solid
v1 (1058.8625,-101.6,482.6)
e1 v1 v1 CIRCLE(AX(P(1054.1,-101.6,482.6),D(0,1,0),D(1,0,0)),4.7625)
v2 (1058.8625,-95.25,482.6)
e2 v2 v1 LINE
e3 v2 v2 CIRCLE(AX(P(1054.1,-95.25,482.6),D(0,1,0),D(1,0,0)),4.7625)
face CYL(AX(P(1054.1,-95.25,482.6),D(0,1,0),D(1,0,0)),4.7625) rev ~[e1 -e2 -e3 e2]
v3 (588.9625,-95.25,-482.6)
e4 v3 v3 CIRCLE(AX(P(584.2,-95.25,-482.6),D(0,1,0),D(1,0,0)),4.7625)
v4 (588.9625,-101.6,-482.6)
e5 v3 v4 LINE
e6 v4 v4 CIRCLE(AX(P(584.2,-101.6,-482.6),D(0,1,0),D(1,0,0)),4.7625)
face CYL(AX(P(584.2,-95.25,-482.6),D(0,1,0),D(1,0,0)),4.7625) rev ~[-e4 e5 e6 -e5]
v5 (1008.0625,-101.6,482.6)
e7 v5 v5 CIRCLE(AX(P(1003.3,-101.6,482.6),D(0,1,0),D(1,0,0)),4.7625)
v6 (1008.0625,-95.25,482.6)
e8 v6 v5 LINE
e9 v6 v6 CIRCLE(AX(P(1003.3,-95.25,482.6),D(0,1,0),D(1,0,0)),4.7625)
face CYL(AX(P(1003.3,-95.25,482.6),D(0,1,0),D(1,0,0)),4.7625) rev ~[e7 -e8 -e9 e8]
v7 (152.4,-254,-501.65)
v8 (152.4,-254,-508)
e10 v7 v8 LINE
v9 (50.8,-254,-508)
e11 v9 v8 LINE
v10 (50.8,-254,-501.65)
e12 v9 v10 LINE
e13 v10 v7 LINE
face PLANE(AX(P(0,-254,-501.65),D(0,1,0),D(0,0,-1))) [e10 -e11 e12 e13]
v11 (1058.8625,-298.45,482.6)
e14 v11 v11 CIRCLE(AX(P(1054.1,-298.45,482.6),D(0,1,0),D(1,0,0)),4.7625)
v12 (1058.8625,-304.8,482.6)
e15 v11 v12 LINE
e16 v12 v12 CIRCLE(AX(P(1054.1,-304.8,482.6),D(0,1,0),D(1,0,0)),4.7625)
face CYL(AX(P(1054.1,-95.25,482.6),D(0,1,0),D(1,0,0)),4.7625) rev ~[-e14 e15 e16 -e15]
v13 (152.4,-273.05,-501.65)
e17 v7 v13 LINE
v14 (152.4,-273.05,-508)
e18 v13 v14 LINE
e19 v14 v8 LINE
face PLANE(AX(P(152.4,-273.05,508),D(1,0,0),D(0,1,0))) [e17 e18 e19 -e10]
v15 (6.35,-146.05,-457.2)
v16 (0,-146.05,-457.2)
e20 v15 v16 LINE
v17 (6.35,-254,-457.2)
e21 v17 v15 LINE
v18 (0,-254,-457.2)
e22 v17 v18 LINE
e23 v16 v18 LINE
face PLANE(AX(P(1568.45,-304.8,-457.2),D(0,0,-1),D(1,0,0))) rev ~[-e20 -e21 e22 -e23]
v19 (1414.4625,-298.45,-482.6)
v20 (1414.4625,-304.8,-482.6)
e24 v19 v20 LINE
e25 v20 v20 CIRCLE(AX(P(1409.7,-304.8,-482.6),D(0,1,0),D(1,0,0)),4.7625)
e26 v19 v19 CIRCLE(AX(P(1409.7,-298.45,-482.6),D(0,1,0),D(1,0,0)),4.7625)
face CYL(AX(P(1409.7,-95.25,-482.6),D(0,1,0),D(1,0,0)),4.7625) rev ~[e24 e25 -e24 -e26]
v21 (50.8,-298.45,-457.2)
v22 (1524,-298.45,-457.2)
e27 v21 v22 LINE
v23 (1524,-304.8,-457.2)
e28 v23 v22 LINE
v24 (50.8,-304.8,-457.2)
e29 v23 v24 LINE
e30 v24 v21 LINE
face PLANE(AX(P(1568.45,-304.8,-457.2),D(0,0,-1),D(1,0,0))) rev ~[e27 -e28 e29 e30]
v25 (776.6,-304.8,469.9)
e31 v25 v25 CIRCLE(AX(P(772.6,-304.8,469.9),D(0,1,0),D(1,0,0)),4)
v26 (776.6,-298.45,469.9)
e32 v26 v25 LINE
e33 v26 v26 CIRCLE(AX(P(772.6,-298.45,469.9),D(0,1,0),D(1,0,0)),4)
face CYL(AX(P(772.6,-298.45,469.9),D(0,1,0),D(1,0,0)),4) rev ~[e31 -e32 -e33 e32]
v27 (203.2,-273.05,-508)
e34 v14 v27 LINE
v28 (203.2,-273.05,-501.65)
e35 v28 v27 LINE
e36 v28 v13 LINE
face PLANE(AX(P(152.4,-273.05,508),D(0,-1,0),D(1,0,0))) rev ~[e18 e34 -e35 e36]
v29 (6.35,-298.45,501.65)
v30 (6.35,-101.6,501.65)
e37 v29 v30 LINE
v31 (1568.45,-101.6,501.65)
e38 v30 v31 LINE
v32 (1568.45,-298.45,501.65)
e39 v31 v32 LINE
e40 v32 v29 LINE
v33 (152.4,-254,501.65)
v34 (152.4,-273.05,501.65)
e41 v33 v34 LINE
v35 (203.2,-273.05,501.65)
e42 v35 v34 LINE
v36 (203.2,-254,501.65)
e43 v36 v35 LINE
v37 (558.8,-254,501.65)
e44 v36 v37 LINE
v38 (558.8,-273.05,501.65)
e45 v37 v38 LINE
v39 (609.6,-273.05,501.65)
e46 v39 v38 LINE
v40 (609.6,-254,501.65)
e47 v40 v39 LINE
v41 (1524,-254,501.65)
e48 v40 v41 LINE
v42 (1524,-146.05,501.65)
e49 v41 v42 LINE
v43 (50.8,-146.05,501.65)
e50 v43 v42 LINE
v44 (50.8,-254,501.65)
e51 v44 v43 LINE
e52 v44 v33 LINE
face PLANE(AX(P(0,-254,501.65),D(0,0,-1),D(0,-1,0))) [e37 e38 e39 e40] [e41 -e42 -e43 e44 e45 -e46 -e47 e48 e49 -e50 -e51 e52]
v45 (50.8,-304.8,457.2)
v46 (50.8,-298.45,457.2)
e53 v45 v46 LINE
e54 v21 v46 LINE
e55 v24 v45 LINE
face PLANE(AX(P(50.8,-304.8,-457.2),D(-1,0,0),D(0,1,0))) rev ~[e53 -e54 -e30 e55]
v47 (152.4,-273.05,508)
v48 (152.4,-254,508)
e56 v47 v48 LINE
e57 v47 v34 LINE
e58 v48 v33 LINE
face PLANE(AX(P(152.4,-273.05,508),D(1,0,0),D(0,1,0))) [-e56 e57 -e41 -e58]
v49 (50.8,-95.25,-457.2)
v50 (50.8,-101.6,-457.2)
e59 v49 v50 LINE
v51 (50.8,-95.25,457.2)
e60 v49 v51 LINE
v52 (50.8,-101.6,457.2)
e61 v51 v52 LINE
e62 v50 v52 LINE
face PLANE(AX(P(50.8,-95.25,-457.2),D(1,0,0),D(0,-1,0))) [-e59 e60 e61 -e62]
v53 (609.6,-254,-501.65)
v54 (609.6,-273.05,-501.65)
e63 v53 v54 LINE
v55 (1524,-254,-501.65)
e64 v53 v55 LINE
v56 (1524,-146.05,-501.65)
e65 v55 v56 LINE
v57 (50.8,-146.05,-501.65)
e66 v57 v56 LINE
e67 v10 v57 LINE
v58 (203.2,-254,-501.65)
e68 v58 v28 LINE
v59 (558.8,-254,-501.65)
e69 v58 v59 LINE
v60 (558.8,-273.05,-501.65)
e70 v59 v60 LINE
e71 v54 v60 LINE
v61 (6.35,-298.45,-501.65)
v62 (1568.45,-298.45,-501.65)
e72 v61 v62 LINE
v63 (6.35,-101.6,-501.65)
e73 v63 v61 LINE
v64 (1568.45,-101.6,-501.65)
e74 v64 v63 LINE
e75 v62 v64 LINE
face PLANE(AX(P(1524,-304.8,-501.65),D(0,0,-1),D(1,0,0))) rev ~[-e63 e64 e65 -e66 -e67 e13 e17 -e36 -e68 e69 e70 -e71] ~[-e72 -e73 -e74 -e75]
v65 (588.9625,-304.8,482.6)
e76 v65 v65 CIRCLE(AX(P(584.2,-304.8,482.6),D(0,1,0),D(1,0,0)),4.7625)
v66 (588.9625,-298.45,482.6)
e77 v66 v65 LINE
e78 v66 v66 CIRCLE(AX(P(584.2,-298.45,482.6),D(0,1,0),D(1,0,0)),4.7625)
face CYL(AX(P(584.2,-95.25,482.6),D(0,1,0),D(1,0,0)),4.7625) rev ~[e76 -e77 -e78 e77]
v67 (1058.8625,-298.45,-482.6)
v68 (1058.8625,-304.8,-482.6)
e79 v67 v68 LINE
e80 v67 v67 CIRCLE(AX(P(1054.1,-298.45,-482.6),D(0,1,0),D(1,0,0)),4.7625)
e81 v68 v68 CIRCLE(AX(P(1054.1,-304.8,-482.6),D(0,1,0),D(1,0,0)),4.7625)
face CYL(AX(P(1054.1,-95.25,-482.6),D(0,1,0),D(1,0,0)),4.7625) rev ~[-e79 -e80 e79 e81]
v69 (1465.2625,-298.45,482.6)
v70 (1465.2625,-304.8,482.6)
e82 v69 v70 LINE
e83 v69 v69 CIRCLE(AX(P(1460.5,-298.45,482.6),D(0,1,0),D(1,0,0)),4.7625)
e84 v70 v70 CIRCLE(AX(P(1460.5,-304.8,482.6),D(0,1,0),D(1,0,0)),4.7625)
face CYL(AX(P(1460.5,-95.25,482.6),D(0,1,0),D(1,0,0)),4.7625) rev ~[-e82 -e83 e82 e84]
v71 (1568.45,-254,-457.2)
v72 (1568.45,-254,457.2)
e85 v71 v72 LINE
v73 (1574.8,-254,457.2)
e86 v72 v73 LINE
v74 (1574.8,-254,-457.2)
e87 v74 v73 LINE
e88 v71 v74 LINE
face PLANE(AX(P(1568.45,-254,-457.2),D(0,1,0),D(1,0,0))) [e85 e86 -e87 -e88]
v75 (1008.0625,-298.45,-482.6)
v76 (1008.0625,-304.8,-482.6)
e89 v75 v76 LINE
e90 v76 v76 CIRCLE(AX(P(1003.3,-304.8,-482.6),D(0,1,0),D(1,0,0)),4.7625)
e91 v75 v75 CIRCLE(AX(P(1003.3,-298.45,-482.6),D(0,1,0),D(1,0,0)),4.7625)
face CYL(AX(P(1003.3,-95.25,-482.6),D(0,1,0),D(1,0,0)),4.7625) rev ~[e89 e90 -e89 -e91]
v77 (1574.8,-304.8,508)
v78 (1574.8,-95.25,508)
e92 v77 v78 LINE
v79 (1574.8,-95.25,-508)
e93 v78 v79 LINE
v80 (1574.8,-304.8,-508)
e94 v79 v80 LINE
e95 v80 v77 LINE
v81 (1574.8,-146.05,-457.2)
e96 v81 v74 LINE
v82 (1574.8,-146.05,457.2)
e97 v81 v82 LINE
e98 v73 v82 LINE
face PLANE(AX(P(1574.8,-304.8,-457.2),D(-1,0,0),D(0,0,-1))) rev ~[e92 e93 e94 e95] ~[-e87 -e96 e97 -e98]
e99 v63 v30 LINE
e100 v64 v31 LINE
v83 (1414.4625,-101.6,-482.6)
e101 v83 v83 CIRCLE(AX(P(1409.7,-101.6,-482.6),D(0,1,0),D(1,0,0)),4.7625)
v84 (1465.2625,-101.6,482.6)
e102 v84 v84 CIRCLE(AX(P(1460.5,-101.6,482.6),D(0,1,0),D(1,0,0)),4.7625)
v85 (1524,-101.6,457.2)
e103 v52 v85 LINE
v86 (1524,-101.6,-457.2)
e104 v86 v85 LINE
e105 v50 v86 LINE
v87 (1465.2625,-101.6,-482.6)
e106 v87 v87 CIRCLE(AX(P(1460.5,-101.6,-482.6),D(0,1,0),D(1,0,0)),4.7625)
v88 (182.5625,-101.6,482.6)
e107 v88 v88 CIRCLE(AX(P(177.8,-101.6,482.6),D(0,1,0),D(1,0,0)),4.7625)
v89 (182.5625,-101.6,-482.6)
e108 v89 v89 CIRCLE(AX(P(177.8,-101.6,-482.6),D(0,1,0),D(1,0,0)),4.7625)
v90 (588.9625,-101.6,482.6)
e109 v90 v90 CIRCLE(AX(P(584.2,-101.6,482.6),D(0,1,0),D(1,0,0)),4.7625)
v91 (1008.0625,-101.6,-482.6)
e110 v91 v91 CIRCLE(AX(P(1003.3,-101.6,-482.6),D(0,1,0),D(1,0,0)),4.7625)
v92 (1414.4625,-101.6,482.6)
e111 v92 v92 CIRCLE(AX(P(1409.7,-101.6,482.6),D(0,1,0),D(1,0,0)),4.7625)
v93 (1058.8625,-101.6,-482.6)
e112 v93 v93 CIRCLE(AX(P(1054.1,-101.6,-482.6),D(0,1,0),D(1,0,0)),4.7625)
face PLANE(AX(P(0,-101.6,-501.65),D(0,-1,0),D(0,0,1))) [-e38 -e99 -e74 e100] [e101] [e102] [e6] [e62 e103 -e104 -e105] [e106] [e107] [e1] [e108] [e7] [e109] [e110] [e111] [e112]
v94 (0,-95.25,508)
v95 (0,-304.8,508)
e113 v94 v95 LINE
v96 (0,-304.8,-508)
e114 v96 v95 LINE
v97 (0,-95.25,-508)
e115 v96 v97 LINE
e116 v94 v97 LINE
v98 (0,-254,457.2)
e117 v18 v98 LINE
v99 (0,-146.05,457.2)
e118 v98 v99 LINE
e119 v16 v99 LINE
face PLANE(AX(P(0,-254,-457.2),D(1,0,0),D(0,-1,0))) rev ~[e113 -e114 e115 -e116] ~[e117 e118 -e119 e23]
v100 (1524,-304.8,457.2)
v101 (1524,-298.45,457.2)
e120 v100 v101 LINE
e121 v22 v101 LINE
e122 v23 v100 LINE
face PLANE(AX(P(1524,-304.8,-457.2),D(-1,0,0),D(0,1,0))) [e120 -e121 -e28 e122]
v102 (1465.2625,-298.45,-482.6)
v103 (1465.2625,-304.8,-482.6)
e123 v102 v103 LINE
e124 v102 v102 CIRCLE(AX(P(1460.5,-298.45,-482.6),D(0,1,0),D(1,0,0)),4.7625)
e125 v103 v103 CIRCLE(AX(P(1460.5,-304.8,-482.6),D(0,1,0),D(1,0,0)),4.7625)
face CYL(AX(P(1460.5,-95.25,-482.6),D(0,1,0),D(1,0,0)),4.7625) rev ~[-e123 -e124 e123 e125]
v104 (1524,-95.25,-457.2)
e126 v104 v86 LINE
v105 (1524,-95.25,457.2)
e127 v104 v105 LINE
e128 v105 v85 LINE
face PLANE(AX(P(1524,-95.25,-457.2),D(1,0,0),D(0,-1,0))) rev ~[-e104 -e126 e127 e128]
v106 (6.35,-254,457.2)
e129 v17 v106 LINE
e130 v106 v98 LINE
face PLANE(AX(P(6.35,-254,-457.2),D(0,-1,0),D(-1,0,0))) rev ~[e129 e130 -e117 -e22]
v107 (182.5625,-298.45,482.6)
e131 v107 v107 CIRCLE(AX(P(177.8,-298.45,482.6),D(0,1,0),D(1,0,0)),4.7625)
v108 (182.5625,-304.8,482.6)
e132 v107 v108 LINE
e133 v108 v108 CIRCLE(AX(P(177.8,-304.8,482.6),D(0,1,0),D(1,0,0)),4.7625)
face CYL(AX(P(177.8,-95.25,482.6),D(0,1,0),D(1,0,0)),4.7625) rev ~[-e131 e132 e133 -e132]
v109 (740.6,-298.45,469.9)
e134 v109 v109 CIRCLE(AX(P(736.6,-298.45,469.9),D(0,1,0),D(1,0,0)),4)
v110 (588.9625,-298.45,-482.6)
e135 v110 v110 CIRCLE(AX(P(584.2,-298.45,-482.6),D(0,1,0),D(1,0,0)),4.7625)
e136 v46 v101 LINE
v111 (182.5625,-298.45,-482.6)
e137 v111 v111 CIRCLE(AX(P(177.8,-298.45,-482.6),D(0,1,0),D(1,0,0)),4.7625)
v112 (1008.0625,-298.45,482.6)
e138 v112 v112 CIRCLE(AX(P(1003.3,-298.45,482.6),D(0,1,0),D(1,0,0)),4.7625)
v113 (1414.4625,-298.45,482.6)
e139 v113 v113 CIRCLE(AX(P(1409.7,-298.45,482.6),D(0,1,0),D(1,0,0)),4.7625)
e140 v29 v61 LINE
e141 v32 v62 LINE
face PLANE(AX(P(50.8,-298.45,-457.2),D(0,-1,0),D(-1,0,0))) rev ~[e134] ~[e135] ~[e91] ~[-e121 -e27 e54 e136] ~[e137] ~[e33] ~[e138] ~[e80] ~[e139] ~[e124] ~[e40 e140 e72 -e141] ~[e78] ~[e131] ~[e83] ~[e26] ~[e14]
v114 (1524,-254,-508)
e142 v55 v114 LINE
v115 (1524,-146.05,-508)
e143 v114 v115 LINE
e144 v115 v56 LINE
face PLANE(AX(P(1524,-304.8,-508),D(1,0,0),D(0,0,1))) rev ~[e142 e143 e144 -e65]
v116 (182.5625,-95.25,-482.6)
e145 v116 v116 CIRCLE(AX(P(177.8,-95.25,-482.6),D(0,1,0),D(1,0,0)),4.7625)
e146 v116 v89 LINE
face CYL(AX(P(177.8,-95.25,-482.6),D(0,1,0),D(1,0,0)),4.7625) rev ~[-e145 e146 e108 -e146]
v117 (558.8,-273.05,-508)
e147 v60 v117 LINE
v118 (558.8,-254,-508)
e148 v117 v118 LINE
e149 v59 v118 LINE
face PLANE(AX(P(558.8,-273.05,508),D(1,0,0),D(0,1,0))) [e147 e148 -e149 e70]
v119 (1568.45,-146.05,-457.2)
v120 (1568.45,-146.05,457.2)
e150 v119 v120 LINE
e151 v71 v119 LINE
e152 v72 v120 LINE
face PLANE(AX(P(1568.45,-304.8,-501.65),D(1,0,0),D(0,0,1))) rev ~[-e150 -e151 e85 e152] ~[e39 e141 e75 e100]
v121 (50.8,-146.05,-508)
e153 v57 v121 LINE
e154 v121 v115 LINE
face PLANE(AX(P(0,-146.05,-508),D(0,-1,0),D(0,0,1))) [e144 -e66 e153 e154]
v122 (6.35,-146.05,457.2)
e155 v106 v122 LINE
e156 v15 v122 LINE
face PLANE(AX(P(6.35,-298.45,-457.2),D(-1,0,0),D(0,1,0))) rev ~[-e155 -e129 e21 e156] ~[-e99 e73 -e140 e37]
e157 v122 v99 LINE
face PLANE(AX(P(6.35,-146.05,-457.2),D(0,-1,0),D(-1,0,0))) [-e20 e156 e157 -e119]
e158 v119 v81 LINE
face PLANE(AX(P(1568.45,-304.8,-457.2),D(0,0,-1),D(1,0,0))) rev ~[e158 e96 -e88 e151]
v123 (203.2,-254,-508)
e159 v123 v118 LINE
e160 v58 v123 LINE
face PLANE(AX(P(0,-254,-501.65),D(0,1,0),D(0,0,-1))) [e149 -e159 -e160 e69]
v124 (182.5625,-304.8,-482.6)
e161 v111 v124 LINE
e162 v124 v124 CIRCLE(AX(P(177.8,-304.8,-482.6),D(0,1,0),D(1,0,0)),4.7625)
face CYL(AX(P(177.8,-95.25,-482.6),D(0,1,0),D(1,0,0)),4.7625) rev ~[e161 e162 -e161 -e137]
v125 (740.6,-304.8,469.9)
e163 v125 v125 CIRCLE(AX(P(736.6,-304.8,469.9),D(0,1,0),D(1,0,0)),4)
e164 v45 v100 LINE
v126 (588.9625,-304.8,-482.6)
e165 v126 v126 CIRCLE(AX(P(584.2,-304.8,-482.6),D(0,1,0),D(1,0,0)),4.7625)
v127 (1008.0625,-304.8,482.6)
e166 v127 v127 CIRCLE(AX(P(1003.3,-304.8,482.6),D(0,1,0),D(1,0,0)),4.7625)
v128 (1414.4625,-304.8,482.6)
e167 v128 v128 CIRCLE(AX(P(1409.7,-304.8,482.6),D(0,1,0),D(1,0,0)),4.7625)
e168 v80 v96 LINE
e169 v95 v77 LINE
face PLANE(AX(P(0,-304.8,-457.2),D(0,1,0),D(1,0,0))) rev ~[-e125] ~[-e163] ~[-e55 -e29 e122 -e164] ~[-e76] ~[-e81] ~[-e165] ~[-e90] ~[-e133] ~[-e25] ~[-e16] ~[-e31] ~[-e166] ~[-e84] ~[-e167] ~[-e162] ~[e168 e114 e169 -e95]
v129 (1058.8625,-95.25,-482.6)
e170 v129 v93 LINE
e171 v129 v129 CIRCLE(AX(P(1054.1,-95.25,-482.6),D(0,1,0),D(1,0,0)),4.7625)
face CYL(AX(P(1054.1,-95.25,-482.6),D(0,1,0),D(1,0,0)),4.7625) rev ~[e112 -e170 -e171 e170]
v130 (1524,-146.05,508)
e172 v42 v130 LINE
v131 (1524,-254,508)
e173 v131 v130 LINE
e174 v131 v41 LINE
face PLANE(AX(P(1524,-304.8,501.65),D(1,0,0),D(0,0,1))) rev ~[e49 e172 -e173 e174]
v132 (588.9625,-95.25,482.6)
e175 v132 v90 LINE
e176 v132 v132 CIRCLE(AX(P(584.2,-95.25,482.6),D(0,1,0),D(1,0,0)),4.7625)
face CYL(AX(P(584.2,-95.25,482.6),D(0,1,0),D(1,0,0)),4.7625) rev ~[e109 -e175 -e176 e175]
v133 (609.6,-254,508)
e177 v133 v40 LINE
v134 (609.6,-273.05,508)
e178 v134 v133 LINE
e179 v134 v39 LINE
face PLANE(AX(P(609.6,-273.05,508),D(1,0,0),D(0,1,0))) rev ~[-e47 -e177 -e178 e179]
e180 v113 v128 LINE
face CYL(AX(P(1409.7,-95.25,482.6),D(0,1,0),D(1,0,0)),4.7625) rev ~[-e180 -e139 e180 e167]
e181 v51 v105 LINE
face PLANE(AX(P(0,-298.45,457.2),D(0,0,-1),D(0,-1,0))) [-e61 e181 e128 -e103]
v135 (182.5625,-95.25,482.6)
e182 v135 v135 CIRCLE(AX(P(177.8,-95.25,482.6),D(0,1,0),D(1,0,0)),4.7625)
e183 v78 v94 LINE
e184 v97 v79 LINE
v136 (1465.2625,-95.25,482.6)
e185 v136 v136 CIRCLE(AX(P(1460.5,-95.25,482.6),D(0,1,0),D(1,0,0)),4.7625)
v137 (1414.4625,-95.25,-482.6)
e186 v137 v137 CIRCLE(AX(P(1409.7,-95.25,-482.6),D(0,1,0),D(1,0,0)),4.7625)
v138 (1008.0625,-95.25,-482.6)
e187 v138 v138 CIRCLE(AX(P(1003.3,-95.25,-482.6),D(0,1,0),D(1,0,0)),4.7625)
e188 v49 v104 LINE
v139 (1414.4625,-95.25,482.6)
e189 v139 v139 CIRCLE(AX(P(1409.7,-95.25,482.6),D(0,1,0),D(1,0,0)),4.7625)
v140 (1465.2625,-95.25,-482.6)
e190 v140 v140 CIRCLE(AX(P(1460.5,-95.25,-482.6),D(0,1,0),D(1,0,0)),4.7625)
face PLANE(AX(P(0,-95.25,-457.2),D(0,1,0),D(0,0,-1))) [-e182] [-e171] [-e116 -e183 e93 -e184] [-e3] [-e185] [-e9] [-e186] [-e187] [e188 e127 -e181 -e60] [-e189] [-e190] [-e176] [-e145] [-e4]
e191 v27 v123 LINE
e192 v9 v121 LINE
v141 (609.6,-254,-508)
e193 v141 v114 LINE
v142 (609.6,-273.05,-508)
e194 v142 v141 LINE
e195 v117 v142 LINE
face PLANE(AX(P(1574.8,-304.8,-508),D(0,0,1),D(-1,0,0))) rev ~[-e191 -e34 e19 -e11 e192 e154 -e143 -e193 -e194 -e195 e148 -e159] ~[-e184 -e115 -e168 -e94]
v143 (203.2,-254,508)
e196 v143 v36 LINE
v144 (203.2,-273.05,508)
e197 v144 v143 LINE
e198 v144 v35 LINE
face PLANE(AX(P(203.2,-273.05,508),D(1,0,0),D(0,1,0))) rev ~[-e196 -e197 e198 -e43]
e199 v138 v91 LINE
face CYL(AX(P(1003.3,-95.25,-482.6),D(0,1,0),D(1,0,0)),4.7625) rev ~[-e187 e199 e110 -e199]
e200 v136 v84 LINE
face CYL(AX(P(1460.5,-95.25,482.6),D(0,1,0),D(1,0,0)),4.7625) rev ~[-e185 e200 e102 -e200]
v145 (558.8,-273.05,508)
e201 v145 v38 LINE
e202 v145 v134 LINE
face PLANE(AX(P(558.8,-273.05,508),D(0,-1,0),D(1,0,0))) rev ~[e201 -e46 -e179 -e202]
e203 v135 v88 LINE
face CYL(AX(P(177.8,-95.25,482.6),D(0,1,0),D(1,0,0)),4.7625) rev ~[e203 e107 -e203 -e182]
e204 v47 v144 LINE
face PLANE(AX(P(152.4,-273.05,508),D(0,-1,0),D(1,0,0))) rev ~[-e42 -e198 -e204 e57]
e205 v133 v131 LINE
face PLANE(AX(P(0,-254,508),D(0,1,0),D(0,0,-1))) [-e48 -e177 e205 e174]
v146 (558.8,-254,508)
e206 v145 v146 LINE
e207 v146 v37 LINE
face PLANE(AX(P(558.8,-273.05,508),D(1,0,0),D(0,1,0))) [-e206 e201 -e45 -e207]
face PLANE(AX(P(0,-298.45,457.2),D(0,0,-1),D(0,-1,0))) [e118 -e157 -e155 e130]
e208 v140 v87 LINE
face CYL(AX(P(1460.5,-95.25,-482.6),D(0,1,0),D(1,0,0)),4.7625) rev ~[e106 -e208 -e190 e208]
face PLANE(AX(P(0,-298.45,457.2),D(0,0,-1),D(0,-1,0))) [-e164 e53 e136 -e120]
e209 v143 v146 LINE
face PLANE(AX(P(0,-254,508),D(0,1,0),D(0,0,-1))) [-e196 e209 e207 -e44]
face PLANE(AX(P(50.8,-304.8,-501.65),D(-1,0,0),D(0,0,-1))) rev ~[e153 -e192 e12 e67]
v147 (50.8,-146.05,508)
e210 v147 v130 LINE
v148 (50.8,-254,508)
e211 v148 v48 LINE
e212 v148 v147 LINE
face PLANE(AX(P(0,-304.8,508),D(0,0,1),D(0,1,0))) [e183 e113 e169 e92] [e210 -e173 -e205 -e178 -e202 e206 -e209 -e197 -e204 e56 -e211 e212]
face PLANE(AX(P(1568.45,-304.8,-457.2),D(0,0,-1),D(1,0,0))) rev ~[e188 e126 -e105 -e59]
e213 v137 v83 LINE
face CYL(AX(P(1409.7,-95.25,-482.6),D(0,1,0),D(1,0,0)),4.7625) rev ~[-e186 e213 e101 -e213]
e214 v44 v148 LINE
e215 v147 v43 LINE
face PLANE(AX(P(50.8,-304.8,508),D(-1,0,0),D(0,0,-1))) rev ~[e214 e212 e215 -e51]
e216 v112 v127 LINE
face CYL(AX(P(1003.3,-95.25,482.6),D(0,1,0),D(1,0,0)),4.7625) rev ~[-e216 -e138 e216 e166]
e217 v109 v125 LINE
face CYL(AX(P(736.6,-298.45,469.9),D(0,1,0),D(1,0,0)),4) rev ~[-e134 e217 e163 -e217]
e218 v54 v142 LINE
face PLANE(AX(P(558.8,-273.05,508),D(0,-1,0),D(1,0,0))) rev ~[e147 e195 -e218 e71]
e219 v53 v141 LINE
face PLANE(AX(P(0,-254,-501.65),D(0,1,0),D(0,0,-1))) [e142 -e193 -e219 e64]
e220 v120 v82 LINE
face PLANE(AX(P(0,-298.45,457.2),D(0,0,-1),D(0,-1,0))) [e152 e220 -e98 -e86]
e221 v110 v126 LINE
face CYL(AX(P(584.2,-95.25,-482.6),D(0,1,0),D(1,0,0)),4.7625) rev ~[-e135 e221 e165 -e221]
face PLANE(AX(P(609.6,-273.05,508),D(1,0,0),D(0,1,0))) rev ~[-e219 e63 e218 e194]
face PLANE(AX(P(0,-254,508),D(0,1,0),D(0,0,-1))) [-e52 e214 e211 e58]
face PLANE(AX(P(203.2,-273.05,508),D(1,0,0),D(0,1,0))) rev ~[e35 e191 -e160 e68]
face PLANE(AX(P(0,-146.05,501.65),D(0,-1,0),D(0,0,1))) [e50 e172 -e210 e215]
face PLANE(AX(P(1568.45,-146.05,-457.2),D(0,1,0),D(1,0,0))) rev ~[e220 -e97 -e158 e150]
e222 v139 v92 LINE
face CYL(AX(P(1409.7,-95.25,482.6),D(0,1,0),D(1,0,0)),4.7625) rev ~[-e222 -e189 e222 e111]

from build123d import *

# Parameters (mm, degrees)
X_ANGLE_LENTH_DEPTH             = 1574.8
X_ANGLE_LENTH_2_DEPTH           = 1574.8
X_ANGLE_LENTH_3_DEPTH           = 1574.8
X_ANGLE_LENTH_4_DEPTH           = 1574.8
Y_ANGLE_LENTH_DEPTH             = 209.55
Z_START                         = -457.2
Z_ANGLE_LENTH_DEPTH             = 914.4
SKETCH16_R                      = 4.7625
WHEEL_MOUNT_LOC_HOLES_DEPTH     = 210.55
SKETCH17_W                      = 50.8
SKETCH17_H                      = 38.1
FRONT_CONTROL_ARM_CUTOUTS_DEPTH = 1017
SKETCH19_R                      = 4
CUT_EXTRUDE1_DEPTH              = 7.35


with BuildPart() as part:
    # Sketch5 → X Angle Lenth (new body)
    with BuildSketch(Plane(origin=(0, 0, 0), x_dir=(0, 0, -1), z_dir=(1, 0, 0))):
        Polygon((-508, -304.8), (-508, -254), (-501.65, -254), (-501.65, -298.45), (-457.2, -298.45), (-457.2, -304.8), align=None)
    extrude(amount=X_ANGLE_LENTH_DEPTH)



with BuildPart() as body_2:
    # Sketch5 → X Angle Lenth 2 (new body)
    with BuildSketch(Plane(origin=(0, 0, 0), x_dir=(0, 0, -1), z_dir=(1, 0, 0))):
        Polygon((501.65, -254), (508, -254), (508, -304.8), (457.2, -304.8), (457.2, -298.45), (501.65, -298.45), align=None)
    extrude(amount=X_ANGLE_LENTH_2_DEPTH)


with BuildPart() as body_3:
    # Sketch5 → X Angle Lenth 3 (new body)
    with BuildSketch(Plane(origin=(0, 0, 0), x_dir=(0, 0, -1), z_dir=(1, 0, 0))):
        Polygon((508, -95.25), (508, -146.05), (501.65, -146.05), (501.65, -101.6), (457.2, -101.6), (457.2, -95.25), align=None)
    extrude(amount=X_ANGLE_LENTH_3_DEPTH)


with BuildPart() as body_4:
    # Sketch5 → X Angle Lenth 4 (new body)
    with BuildSketch(Plane(origin=(0, 0, 0), x_dir=(0, 0, -1), z_dir=(1, 0, 0))):
        Polygon((-501.65, -146.05), (-508, -146.05), (-508, -95.25), (-457.2, -95.25), (-457.2, -101.6), (-501.65, -101.6), align=None)
    extrude(amount=X_ANGLE_LENTH_4_DEPTH)


with BuildPart() as part_1:
    add(part.part)

    add(body_2.part)  # Y Angle Lenth merges body 2

    add(body_3.part)  # Y Angle Lenth merges body 3

    add(body_4.part)  # Y Angle Lenth merges body 4
    # Sketch6 → Y Angle Lenth (add)
    with BuildSketch(Plane.XZ.offset(304.8)):
        Polygon((1574.8, -508), (1524, -508), (1524, -501.65), (1568.45, -501.65), (1568.45, -457.2), (1574.8, -457.2), align=None)
        Polygon((1524, 501.65), (1524, 508), (1574.8, 508), (1574.8, 457.2), (1568.45, 457.2), (1568.45, 501.65), align=None)
        Polygon((0, 508), (50.8, 508), (50.8, 501.65), (6.35, 501.65), (6.35, 457.2), (0, 457.2), align=None)
        Polygon((50.8, -501.65), (50.8, -508), (0, -508), (0, -457.2), (6.35, -457.2), (6.35, -501.65), align=None)
    extrude(amount=-Y_ANGLE_LENTH_DEPTH)

    # Sketch15 → Z Angle Lenth (add)
    with BuildSketch(Plane.XY.offset(Z_START)):
        Polygon((0, -254), (0, -304.8), (50.8, -304.8), (50.8, -298.45), (6.35, -298.45), (6.35, -254), align=None)
        Polygon((1568.45, -254), (1574.8, -254), (1574.8, -304.8), (1524, -304.8), (1524, -298.45), (1568.45, -298.45), align=None)
        Polygon((1574.8, -146.05), (1574.8, -95.25), (1524, -95.25), (1524, -101.6), (1568.45, -101.6), (1568.45, -146.05), align=None)
        Polygon((6.35, -146.05), (0, -146.05), (0, -95.25), (50.8, -95.25), (50.8, -101.6), (6.35, -101.6), align=None)
    extrude(amount=Z_ANGLE_LENTH_DEPTH)

    # Sketch16 → Wheel Mount LOC Holes (cut, through all)
    with BuildSketch(Plane(origin=(0, -95.25, 0), x_dir=(1, 0, 0), z_dir=(0, 1, 0))):
        with Locations((1409.7, 482.6)):
            Circle(SKETCH16_R)
        with Locations((1003.3, 482.6)):
            Circle(SKETCH16_R)
        with Locations((584.2, 482.6)):
            Circle(SKETCH16_R)
        with Locations((177.8, 482.6)):
            Circle(SKETCH16_R)
        with Locations((177.8, -482.6)):
            Circle(SKETCH16_R)
        with Locations((584.2, -482.6)):
            Circle(SKETCH16_R)
        with Locations((1003.3, -482.6)):
            Circle(SKETCH16_R)
        with Locations((1409.7, -482.6)):
            Circle(SKETCH16_R)
        with Locations((1054.1, 482.6)):
            Circle(SKETCH16_R)
        with Locations((1460.5, 482.6)):
            Circle(SKETCH16_R)
        with Locations((1460.5, -482.6)):
            Circle(SKETCH16_R)
        with Locations((1054.1, -482.6)):
            Circle(SKETCH16_R)
    extrude(amount=-WHEEL_MOUNT_LOC_HOLES_DEPTH, mode=Mode.SUBTRACT)

    # Sketch17 → Front Control Arm Cutouts (cut, through all)
    with BuildSketch(Plane.XY.offset(508)):
        with Locations((177.8, -254)):
            Rectangle(SKETCH17_W, SKETCH17_H)
        with Locations((584.2, -254)):
            Rectangle(SKETCH17_W, SKETCH17_H)
    extrude(amount=-FRONT_CONTROL_ARM_CUTOUTS_DEPTH, mode=Mode.SUBTRACT)

    # Sketch19 → Cut-Extrude1 (cut, through all)
    with BuildSketch(Plane(origin=(0, -298.45, 0), x_dir=(1, 0, 0), z_dir=(0, 1, 0))):
        with Locations((736.6, -469.9)):
            Circle(SKETCH19_R)
        with Locations((772.6, -469.9)):
            Circle(SKETCH19_R)
    extrude(amount=-CUT_EXTRUDE1_DEPTH, mode=Mode.SUBTRACT)


solid = part_1.part
